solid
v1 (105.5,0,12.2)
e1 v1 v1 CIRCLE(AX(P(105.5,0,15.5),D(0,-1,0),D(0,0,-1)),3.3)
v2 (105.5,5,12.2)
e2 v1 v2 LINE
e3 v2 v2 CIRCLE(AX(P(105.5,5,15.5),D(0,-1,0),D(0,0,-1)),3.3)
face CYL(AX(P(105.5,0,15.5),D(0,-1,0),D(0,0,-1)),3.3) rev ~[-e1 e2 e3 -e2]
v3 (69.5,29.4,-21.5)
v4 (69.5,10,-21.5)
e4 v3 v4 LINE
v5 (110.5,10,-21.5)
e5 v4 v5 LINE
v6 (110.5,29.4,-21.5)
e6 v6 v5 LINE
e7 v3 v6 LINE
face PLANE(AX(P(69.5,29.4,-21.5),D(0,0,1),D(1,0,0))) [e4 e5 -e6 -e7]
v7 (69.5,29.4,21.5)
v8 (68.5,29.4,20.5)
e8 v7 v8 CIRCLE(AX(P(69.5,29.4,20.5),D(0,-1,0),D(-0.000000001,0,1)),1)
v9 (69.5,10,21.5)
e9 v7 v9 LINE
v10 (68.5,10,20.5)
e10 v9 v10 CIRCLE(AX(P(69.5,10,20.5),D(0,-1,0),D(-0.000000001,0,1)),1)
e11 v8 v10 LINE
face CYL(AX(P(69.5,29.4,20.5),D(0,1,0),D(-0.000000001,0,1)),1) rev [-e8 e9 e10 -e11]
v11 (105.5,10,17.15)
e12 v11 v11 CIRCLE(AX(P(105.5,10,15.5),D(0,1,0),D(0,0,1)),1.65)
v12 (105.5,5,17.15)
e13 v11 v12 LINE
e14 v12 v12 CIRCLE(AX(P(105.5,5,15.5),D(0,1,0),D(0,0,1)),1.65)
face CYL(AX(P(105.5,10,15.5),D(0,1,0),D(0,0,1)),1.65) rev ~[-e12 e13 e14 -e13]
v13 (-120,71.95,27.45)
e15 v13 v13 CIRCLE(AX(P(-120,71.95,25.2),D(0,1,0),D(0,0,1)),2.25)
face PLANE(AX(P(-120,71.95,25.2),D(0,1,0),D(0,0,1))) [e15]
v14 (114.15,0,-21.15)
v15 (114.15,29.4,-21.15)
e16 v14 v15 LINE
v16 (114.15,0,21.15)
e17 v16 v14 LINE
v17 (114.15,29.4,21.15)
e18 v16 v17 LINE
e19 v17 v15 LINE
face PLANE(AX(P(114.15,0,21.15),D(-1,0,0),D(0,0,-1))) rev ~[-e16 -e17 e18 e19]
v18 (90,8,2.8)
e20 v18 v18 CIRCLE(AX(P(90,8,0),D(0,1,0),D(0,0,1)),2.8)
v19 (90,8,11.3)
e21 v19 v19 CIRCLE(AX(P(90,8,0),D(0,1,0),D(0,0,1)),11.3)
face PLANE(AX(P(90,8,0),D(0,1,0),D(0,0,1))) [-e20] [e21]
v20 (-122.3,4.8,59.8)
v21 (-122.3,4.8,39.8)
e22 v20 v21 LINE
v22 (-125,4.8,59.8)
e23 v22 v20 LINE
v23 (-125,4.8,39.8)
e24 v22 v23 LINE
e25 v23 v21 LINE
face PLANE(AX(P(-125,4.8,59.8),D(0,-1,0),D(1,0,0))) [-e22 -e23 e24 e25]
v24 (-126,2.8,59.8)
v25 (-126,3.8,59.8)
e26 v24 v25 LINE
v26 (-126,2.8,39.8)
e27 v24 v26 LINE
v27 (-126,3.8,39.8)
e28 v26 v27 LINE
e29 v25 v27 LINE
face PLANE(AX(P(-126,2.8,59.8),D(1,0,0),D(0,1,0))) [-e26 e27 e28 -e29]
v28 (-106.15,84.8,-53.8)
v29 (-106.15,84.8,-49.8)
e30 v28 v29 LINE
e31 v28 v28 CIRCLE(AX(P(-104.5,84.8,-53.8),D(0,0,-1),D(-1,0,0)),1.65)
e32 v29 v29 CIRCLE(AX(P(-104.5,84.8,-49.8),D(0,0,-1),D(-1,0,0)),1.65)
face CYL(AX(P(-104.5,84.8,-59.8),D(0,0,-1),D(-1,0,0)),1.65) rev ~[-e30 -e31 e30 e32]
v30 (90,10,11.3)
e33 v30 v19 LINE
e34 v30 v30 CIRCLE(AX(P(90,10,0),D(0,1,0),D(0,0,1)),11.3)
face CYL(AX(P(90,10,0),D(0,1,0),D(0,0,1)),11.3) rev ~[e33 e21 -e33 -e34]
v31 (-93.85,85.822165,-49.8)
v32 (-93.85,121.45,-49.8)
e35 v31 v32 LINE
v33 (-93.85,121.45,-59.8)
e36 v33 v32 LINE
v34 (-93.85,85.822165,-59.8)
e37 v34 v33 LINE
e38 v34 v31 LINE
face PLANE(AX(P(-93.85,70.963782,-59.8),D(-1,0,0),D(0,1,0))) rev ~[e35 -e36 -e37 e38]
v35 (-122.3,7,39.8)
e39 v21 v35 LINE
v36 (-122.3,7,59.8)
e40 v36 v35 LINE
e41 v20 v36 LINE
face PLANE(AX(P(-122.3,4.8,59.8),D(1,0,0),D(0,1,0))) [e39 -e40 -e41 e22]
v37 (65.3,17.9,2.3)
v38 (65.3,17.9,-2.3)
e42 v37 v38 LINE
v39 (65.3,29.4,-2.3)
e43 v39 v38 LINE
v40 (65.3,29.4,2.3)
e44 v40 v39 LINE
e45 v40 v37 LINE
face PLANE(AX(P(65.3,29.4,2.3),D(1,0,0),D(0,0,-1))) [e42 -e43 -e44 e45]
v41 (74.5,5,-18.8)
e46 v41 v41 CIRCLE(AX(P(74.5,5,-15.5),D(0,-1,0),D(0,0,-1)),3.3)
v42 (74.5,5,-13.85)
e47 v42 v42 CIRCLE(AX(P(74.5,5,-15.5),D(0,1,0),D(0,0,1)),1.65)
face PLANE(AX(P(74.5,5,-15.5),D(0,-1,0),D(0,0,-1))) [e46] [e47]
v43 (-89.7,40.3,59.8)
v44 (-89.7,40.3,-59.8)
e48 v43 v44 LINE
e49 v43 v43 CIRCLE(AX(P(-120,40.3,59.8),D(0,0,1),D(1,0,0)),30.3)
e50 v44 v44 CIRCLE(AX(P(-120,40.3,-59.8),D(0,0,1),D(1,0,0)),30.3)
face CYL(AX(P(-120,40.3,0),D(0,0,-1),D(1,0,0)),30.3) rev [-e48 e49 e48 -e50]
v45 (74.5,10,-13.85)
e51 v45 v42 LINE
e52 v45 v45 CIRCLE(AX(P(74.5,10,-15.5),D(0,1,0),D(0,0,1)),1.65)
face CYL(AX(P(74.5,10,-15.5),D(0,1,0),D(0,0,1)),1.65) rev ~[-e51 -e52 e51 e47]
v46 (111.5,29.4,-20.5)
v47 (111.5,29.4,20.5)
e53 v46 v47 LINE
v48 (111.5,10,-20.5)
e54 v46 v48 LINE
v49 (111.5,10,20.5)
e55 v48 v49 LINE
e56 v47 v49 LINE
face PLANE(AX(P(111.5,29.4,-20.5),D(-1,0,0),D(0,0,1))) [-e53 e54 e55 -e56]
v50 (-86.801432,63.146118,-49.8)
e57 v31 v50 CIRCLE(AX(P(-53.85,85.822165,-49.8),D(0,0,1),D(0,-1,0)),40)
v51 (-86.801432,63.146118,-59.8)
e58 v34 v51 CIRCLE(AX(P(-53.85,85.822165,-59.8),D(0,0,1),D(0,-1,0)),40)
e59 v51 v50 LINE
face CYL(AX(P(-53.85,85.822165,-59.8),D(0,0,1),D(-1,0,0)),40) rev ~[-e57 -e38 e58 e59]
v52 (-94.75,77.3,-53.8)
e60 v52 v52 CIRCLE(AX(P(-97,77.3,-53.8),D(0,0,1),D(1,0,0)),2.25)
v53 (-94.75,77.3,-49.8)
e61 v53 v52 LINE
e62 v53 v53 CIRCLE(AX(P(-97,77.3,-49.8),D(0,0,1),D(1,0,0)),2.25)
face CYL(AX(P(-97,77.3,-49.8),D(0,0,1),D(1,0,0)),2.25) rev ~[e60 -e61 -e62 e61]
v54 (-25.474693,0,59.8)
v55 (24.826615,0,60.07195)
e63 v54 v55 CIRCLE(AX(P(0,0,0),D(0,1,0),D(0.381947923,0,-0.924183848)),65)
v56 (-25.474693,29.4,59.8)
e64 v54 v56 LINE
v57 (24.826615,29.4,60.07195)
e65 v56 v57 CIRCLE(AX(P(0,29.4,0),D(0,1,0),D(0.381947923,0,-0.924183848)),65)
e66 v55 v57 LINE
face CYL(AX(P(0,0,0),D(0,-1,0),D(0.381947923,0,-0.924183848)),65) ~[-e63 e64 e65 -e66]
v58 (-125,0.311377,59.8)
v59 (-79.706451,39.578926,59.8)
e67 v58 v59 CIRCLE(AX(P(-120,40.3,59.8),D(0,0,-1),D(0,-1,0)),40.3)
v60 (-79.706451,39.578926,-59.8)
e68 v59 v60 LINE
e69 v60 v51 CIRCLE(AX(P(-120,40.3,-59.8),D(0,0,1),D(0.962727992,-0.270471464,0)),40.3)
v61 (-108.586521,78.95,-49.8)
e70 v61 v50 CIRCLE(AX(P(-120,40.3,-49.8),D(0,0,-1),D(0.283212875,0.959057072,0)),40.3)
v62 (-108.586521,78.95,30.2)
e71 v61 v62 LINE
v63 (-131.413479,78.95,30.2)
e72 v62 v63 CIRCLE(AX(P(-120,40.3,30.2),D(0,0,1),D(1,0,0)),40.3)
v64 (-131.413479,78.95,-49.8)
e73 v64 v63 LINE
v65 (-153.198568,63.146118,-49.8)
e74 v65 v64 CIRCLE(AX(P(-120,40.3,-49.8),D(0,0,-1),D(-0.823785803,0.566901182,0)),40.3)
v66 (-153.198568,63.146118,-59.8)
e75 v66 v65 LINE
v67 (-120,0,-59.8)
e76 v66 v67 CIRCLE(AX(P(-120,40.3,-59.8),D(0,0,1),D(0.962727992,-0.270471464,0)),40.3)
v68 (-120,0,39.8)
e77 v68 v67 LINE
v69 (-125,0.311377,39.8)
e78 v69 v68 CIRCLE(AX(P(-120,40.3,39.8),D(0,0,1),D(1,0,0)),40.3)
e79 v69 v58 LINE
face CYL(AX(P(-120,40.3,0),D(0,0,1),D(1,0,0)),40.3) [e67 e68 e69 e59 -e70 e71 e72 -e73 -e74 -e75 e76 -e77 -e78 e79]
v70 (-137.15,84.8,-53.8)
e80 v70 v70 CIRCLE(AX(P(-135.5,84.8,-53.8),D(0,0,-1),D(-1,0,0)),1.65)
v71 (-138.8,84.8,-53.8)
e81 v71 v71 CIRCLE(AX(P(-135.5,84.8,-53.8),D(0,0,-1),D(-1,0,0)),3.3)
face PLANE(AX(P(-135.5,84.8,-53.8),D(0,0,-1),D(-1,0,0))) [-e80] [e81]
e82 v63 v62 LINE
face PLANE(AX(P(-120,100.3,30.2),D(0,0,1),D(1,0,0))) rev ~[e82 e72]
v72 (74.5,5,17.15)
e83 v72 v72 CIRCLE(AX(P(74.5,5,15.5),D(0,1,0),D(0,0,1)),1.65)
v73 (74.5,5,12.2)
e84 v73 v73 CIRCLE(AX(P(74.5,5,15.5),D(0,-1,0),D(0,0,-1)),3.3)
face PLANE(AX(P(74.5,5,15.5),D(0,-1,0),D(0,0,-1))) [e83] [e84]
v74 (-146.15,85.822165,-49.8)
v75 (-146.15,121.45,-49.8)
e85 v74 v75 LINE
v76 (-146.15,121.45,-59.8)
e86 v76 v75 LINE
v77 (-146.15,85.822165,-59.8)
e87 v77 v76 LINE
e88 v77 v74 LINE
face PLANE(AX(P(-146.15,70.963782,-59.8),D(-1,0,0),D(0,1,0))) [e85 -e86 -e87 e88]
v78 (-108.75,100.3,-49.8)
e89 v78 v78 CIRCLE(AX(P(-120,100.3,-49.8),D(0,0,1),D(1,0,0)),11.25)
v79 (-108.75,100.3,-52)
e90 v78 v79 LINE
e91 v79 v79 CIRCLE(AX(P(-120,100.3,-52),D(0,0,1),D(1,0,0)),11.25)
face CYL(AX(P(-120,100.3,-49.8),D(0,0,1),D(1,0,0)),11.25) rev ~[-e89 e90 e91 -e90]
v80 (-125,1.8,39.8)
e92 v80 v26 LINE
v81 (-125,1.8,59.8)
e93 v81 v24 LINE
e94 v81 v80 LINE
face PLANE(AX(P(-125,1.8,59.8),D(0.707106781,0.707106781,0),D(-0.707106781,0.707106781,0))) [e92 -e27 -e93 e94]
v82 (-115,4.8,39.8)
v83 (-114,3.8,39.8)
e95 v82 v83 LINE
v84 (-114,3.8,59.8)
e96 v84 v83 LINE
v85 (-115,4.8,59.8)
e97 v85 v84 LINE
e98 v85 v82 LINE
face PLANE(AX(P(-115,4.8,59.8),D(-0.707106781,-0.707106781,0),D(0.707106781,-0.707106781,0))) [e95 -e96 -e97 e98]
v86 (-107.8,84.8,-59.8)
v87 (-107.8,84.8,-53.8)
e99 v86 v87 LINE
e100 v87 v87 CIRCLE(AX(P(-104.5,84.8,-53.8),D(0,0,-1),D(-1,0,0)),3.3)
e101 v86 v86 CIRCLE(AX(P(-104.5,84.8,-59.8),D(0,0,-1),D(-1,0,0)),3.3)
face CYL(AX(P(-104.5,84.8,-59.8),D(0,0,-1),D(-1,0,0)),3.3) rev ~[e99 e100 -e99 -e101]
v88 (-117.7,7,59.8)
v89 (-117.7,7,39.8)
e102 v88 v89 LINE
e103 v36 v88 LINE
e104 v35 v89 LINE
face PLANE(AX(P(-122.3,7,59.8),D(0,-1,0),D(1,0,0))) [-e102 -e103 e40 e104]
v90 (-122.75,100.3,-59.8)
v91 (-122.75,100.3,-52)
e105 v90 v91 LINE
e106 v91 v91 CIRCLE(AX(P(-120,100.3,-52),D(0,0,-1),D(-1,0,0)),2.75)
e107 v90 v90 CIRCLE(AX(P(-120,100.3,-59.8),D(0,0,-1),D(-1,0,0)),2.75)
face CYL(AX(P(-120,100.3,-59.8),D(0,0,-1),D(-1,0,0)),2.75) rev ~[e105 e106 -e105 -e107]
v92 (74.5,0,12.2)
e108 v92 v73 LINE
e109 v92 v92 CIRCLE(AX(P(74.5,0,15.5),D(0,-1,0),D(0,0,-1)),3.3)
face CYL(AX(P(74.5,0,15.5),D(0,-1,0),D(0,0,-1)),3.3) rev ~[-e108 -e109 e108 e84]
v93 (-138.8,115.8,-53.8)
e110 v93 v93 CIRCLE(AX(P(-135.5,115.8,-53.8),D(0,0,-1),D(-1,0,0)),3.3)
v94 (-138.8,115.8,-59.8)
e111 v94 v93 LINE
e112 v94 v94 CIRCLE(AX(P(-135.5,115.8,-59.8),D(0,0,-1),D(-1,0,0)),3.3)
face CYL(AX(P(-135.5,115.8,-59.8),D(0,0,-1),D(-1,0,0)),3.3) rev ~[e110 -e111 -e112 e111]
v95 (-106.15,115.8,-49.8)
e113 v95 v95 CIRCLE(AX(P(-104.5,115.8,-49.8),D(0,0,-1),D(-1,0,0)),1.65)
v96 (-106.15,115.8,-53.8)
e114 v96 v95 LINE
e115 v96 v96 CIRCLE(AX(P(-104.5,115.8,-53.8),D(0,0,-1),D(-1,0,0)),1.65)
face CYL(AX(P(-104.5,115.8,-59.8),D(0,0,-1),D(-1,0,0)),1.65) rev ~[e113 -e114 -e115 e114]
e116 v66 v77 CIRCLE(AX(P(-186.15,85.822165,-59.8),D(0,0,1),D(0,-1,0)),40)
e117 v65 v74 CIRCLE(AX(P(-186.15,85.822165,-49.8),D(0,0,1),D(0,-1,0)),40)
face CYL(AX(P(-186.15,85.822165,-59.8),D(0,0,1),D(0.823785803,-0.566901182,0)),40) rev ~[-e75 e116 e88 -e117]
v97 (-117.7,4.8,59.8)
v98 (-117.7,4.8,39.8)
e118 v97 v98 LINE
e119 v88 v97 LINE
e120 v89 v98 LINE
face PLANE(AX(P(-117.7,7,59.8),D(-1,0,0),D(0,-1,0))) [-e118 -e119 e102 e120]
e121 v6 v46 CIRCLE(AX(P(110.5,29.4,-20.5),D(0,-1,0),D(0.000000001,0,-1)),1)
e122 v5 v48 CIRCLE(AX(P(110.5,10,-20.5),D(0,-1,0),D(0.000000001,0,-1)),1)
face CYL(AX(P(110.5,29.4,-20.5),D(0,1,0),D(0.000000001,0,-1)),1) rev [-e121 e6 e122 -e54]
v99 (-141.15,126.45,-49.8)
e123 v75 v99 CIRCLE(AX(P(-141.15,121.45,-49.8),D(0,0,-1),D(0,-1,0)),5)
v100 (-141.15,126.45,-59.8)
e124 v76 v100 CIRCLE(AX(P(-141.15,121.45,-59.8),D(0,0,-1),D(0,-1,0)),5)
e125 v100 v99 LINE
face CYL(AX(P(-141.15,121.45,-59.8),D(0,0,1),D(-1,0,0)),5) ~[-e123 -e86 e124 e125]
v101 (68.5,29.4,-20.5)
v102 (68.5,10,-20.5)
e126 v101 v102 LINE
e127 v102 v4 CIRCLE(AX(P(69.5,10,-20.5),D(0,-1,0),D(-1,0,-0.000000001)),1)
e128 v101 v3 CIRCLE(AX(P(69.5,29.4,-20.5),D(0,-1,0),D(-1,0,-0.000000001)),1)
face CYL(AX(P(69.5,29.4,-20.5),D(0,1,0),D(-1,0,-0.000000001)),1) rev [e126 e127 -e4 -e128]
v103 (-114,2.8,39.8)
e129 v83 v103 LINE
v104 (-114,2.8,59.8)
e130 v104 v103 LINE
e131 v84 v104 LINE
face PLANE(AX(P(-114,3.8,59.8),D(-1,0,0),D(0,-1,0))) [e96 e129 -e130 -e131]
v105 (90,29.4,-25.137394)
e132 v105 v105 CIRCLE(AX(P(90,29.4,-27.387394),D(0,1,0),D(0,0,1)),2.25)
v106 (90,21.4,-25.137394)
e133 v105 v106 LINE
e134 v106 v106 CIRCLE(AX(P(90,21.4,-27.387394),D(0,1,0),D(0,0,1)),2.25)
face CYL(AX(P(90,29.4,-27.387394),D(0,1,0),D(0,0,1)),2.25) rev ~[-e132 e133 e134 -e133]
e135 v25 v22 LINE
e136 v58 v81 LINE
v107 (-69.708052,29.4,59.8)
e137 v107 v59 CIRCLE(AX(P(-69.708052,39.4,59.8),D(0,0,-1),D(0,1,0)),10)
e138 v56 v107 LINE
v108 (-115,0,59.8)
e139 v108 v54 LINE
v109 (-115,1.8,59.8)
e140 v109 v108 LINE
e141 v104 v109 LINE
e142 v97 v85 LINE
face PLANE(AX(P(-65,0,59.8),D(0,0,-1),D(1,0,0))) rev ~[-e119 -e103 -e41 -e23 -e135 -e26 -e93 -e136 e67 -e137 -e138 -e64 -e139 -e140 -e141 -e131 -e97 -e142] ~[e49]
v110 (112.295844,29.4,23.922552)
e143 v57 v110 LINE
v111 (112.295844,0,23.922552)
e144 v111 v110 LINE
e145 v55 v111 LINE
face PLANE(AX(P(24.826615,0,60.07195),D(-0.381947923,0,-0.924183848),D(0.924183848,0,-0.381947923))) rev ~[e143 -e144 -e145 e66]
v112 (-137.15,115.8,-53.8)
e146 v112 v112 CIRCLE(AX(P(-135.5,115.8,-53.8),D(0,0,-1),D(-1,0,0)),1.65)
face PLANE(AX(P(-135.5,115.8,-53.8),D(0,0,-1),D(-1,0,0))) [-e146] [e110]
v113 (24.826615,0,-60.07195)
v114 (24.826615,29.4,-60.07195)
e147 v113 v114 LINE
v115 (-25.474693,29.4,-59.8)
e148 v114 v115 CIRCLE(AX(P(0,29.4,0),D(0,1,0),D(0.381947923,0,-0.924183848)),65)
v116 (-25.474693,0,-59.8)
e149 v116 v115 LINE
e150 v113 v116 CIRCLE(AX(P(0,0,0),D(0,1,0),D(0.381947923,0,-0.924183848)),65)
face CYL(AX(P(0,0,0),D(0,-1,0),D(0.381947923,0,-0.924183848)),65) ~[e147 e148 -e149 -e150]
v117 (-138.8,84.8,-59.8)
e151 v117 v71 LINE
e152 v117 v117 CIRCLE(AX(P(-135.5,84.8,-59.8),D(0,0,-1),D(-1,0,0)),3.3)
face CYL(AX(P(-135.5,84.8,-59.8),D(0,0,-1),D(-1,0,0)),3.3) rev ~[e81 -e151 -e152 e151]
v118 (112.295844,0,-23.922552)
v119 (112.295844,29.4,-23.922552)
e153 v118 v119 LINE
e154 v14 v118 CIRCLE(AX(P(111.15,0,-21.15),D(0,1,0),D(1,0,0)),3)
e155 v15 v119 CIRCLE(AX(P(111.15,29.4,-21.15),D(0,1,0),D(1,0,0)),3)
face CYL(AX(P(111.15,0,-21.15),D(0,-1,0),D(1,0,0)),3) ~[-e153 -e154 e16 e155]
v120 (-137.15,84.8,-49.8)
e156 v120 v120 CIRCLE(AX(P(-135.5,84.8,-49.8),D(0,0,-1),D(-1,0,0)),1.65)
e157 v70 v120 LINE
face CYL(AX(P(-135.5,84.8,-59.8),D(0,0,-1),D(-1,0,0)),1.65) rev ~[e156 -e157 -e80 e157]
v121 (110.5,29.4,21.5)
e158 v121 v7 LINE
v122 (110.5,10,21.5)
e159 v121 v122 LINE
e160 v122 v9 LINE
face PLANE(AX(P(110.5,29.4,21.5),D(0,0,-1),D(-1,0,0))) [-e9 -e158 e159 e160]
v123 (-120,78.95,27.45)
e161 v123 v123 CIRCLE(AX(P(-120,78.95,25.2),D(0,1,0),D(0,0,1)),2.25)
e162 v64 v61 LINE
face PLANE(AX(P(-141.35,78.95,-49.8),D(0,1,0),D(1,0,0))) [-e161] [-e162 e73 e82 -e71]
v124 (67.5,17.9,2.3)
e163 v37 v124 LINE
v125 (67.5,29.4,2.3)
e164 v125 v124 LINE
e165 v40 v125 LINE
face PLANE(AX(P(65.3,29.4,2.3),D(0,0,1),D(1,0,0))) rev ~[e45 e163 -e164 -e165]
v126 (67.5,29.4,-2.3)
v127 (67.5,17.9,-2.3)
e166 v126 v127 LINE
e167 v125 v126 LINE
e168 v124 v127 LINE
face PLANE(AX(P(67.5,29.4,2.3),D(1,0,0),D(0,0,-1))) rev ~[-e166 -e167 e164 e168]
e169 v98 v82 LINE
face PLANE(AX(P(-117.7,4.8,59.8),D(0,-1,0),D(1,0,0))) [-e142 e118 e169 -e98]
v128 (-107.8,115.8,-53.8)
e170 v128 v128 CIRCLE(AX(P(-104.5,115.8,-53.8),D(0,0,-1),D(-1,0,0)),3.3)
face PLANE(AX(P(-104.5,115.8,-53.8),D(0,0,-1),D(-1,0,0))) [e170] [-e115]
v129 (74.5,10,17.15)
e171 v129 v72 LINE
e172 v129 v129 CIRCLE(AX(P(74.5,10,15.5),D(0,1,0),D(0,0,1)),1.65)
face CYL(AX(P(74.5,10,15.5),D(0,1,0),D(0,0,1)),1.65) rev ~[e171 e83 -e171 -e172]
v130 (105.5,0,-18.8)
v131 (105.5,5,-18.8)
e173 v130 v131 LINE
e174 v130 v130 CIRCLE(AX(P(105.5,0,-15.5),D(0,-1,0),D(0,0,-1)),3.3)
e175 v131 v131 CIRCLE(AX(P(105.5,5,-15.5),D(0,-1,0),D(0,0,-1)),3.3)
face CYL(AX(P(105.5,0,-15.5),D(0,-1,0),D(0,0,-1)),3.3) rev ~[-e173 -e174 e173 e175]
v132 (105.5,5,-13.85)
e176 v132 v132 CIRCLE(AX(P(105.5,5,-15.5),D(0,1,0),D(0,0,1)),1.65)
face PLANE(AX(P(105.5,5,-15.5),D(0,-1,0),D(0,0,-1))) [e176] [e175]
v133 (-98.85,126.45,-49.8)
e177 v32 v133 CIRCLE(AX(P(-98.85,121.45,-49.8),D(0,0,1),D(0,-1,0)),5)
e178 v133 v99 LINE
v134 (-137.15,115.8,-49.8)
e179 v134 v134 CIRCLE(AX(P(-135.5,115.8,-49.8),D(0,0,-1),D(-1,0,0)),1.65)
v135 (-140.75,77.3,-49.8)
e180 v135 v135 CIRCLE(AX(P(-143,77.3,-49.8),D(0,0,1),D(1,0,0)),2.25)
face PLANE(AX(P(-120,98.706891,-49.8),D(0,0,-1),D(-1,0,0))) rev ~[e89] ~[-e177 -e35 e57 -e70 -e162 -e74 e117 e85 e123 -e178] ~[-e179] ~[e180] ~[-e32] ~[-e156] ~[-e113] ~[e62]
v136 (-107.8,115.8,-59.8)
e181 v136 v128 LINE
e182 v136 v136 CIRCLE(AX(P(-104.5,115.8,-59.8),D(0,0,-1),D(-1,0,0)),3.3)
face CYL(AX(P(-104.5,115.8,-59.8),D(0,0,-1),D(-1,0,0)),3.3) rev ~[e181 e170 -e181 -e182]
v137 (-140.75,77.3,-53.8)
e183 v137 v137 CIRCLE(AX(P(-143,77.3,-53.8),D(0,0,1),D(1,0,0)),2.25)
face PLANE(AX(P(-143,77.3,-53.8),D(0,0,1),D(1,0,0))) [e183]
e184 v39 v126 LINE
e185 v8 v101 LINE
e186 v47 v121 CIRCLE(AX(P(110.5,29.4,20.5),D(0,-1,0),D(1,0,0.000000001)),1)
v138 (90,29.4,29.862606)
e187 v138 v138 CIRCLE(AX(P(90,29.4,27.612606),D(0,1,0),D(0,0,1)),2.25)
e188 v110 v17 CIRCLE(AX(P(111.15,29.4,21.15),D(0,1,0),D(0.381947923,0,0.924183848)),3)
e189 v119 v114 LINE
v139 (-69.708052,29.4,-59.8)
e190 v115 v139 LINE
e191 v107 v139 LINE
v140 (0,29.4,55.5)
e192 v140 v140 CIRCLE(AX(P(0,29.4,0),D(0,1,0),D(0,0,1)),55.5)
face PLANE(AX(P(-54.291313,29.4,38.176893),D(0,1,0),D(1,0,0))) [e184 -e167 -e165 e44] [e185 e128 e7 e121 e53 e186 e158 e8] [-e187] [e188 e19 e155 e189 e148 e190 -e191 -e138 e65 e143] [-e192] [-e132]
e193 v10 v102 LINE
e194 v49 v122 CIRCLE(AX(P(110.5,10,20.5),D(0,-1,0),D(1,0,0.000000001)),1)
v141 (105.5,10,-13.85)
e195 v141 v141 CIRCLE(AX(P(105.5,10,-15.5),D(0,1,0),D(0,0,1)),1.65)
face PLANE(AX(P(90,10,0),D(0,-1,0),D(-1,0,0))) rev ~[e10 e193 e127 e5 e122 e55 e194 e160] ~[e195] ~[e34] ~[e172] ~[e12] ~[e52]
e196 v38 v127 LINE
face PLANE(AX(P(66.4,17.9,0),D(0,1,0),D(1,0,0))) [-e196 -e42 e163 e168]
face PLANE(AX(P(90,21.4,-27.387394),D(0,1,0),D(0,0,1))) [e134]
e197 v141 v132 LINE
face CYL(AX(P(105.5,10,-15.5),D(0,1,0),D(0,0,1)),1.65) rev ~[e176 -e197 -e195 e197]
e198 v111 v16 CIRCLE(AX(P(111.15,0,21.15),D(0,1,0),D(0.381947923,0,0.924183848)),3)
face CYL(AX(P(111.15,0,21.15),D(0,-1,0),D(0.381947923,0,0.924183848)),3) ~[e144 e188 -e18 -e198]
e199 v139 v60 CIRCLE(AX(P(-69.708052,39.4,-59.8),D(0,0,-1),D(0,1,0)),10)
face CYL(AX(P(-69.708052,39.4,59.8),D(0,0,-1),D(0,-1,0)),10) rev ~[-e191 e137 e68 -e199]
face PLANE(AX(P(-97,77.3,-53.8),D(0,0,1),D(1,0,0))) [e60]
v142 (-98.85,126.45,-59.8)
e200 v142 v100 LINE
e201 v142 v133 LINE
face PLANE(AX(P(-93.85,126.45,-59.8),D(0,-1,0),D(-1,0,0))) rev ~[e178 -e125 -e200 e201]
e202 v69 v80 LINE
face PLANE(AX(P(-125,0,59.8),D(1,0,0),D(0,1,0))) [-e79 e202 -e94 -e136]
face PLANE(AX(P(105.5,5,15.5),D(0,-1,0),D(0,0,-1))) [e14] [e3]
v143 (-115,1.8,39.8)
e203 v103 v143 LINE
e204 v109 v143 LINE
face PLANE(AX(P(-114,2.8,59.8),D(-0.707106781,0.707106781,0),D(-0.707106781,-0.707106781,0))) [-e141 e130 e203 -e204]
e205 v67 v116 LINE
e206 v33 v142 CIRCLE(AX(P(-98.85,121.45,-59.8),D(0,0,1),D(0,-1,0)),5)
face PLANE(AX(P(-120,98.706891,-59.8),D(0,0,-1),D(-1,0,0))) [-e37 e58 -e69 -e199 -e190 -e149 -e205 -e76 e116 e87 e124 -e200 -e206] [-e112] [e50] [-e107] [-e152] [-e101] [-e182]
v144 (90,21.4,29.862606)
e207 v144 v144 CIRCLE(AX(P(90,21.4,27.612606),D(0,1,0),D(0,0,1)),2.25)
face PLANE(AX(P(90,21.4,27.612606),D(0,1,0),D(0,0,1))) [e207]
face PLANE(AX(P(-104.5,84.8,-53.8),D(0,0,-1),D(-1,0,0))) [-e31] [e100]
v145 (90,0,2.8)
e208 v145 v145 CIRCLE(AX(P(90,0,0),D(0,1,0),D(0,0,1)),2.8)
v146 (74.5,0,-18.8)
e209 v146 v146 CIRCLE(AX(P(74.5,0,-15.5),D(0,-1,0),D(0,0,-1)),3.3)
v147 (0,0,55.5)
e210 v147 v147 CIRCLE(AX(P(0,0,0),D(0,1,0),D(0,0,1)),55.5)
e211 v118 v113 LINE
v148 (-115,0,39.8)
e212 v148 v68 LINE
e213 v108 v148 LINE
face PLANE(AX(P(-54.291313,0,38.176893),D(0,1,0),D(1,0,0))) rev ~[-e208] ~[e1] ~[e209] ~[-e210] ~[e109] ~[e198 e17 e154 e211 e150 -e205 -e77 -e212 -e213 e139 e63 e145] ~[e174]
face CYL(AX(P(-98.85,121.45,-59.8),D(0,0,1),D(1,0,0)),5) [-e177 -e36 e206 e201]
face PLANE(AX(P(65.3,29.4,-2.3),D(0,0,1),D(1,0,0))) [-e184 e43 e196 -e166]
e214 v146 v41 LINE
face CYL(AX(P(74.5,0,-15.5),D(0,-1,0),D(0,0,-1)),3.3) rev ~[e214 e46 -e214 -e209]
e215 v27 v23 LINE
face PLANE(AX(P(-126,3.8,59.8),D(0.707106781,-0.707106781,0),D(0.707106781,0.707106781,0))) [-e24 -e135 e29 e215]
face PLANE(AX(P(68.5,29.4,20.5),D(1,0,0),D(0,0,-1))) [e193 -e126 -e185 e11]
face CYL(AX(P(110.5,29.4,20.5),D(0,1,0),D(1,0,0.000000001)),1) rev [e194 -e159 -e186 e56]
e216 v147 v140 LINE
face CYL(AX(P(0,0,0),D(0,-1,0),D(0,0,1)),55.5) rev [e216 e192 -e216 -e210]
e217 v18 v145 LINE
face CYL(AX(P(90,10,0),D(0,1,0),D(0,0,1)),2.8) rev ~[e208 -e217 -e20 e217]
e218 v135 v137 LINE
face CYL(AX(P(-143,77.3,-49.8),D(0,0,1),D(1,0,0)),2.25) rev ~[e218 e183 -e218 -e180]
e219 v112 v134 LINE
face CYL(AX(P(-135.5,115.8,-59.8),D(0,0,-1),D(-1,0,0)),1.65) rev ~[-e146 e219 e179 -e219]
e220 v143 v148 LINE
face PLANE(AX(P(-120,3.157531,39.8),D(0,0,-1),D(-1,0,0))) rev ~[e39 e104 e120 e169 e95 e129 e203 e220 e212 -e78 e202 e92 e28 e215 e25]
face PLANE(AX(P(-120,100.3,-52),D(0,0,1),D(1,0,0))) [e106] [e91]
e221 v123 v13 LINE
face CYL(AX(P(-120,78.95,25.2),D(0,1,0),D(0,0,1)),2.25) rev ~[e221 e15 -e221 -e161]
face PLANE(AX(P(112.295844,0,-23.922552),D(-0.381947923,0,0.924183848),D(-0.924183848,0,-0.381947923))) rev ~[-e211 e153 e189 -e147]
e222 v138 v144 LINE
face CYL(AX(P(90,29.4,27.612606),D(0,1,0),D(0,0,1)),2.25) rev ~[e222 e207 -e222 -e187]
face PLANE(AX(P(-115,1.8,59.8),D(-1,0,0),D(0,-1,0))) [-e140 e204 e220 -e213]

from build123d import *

# Parameters (mm, degrees)
SKETCH1_R           = 55.5
BOSS_EXTRUDE1_DEPTH = 29.4
CUT_EXTRUDE1_DEPTH  = 19.4
SKETCH3_R           = 1.65
SKETCH3_R_2         = 2.8
CUT_EXTRUDE2_DEPTH  = 133.783969288
SKETCH4_R           = 11.3
CUT_EXTRUDE3_DEPTH  = 2
SKETCH5_R           = 3.3
CUT_EXTRUDE4_DEPTH  = 5
SKETCH6_R           = 40.3
SKETCH6_R_2         = 30.3
BOSS_EXTRUDE2_DEPTH = 59.8
BOSS_EXTRUDE3_DEPTH = 119.6
BOSS_EXTRUDE4_START = -29.4
BOSS_EXTRUDE4_DEPTH = 29.4
FILLET1_R           = 10
SKETCH9_W           = 2.2
SKETCH9_H           = 4.6
CUT_EXTRUDE5_DEPTH  = 11.5
SKETCH10_R          = 2.25
CUT_EXTRUDE6_DEPTH  = 8
SKETCH12_W          = 52.3
SKETCH12_H          = 55.486218433
SKETCH12_R          = 2.75
BOSS_EXTRUDE5_DEPTH = 10
SKETCH13_R          = 1.65
CUT_EXTRUDE7_DEPTH  = 240.292148847
SKETCH14_R          = 3.3
CUT_EXTRUDE8_DEPTH  = 6
SKETCH15_W          = 42.7
SKETCH15_H          = 42.7
CUT_EXTRUDE9_DEPTH  = 80
FILLET2_R           = 40
FILLET3_R           = 5
SKETCH16_R          = 2.25
CUT_EXTRUDE10_DEPTH = 4
SKETCH17_R          = 2.25
CUT_EXTRUDE11_DEPTH = 7
CUT_EXTRUDE14_DEPTH = 20
SKETCH20_R          = 11.25
CUT_EXTRUDE15_DEPTH = 2.2


with BuildPart() as part:
    # Sketch1 → Boss-Extrude1 (new body)
    with BuildSketch(Plane(origin=(0, 0, 0), x_dir=(1, 0, 0), z_dir=(0, 1, 0))):
        with BuildLine():
            Line((24.826614984, -60.071950097), (112.295843768, -23.922551543))
            ThreePointArc((112.295843768, -23.922551543), (113.643745306, -22.817703315), (114.15, -21.15))
            Line((114.15, -21.15), (114.15, 21.15))
            ThreePointArc((114.15, 21.15), (113.643745306, 22.817703315), (112.295843768, 23.922551543))
            Line((112.295843768, 23.922551543), (24.826614984, 60.071950097))
            ThreePointArc((24.826614984, 60.071950097), (-65, 0), (24.826614984, -60.071950097))
        make_face()
        with Locations(Location((0, 0, 0), (0, 0, 270))):
            Circle(SKETCH1_R, mode=Mode.SUBTRACT)
    extrude(amount=BOSS_EXTRUDE1_DEPTH)

    # Sketch2 → Cut-Extrude1 (cut)
    with BuildSketch(Plane(origin=(0, 29.4, 0), x_dir=(1, 0, 0), z_dir=(0, 1, 0))):
        with BuildLine():
            Line((69.5, 21.5), (110.5, 21.5))
            ThreePointArc((110.5, 21.5), (111.207106781, 21.207106781), (111.5, 20.5))
            Line((111.5, 20.5), (111.5, -20.5))
            ThreePointArc((111.5, -20.5), (111.207106781, -21.207106781), (110.5, -21.5))
            Line((110.5, -21.5), (69.5, -21.5))
            ThreePointArc((69.5, -21.5), (68.792893219, -21.207106781), (68.5, -20.5))
            Line((68.5, -20.5), (68.5, 20.5))
            ThreePointArc((68.5, 20.5), (68.792893219, 21.207106781), (69.5, 21.5))
        make_face()
    extrude(amount=-CUT_EXTRUDE1_DEPTH, mode=Mode.SUBTRACT)

    # Sketch3 → Cut-Extrude2 (cut, through all)
    with BuildSketch(Plane(origin=(0, 10, 0), x_dir=(1, 0, 0), z_dir=(0, 1, 0))):
        with Locations(Location((74.5, -15.5, 0), (0, 0, 270))):
            Circle(SKETCH3_R)
        with Locations(Location((105.5, -15.5, 0), (0, 0, 270))):
            Circle(SKETCH3_R)
        with Locations(Location((105.5, 15.5, 0), (0, 0, 270))):
            Circle(SKETCH3_R)
        with Locations(Location((74.5, 15.5, 0), (0, 0, 270))):
            Circle(SKETCH3_R)
        with Locations(Location((90, 0, 0), (0, 0, 270))):
            Circle(SKETCH3_R_2)
    extrude(amount=-CUT_EXTRUDE2_DEPTH, mode=Mode.SUBTRACT)

    # Sketch4 → Cut-Extrude3 (cut)
    with BuildSketch(Plane(origin=(0, 10, 0), x_dir=(1, 0, 0), z_dir=(0, 1, 0))):
        with Locations(Location((90, 0, 0), (0, 0, 270))):
            Circle(SKETCH4_R)
    extrude(amount=-CUT_EXTRUDE3_DEPTH, mode=Mode.SUBTRACT)

    # Sketch5 → Cut-Extrude4 (cut)
    with BuildSketch(Plane.XZ):
        with Locations(Location((74.5, 15.5, 0), (0, 0, 270))):
            Circle(SKETCH5_R)
        with Locations(Location((105.5, 15.5, 0), (0, 0, 270))):
            Circle(SKETCH5_R)
        with Locations(Location((74.5, -15.5, 0), (0, 0, 270))):
            Circle(SKETCH5_R)
        with Locations(Location((105.5, -15.5, 0), (0, 0, 270))):
            Circle(SKETCH5_R)
    extrude(amount=-CUT_EXTRUDE4_DEPTH, mode=Mode.SUBTRACT)



with BuildPart() as body_2:
    # Sketch6 → Boss-Extrude2 (new, symmetric)
    with BuildSketch(Plane.XY):
        with Locations((-120, 40.3)):
            Circle(SKETCH6_R)
        with Locations((-120, 40.3)):
            Circle(SKETCH6_R_2, mode=Mode.SUBTRACT)
    extrude(amount=BOSS_EXTRUDE2_DEPTH, both=True)

    # Sketch7 → Boss-Extrude3 (add)
    with BuildSketch(Plane.XY.offset(59.8)):
        with BuildLine():
            Line((-65, 29.4), (-65, 0))
            Line((-65, 0), (-120, 0))
            ThreePointArc((-120, 0), (-95.660525889, 8.18022416), (-81.20206191, 29.4))
            Line((-81.20206191, 29.4), (-65, 29.4))
        make_face()
    extrude(amount=-BOSS_EXTRUDE3_DEPTH)


with BuildPart() as part_1:
    add(part.part)

    add(body_2.part)  # Boss-Extrude4 merges body 2
    # Sketch8 → Boss-Extrude4 (add)
    with BuildSketch(Plane(origin=(0, 29.4, 0), x_dir=(1, 0, 0), z_dir=(0, 1, 0)).offset(BOSS_EXTRUDE4_START)):
        with BuildLine():
            ThreePointArc((-25.474693325, -59.8), (-54.225709183, -35.840932794), (-65, 1.13e-07))
            Line((-65, 1.13e-07), (-65, -59.8))
            Line((-65, -59.8), (-25.474693325, -59.8))
        make_face()
        with BuildLine():
            Line((-25.474693325, 59.8), (-65, 59.8))
            Line((-65, 59.8), (-65, 1.13e-07))
            ThreePointArc((-65, 1.13e-07), (-54.225709121, 35.840932889), (-25.474693325, 59.8))
        make_face()
    extrude(amount=BOSS_EXTRUDE4_DEPTH)

    # Fillet1
    fillet1_edges = [part_1.edges().sort_by_distance(p)[0] for p in [
        (-81.20206191, 29.4, 0),
    ]]
    fillet(fillet1_edges, radius=FILLET1_R)

    # Sketch9 → Cut-Extrude5 (cut)
    with BuildSketch(Plane(origin=(0, 29.4, 0), x_dir=(1, 0, 0), z_dir=(0, 1, 0))):
        with Locations((66.4, 0)):
            Rectangle(SKETCH9_W, SKETCH9_H)
    extrude(amount=-CUT_EXTRUDE5_DEPTH, mode=Mode.SUBTRACT)

    # Sketch10 → Cut-Extrude6 (cut)
    with BuildSketch(Plane(origin=(0, 29.4, 0), x_dir=(1, 0, 0), z_dir=(0, 1, 0))):
        with Locations(Location((90, -27.612605503, 0), (0, 0, 270))):
            Circle(SKETCH10_R)
        with Locations(Location((90, 27.387394497, 0), (0, 0, 270))):
            Circle(SKETCH10_R)
    extrude(amount=-CUT_EXTRUDE6_DEPTH, mode=Mode.SUBTRACT)

    # Sketch12 → Boss-Extrude5 (add)
    with BuildSketch(Plane(origin=(0, 0, -59.8), x_dir=(-1, 0, 0), z_dir=(0, 0, -1))):
        with Locations((120, 98.706890784)):
            Rectangle(SKETCH12_W, SKETCH12_H)
        with Locations((120, 100.3)):
            Circle(SKETCH12_R, mode=Mode.SUBTRACT)
    extrude(amount=-BOSS_EXTRUDE5_DEPTH)

    # Sketch13 → Cut-Extrude7 (cut, through all)
    with BuildSketch(Plane(origin=(0, 0, -59.8), x_dir=(-1, 0, 0), z_dir=(0, 0, -1))):
        with Locations((104.5, 115.8)):
            Circle(SKETCH13_R)
        with Locations((104.5, 84.8)):
            Circle(SKETCH13_R)
        with Locations((135.5, 84.8)):
            Circle(SKETCH13_R)
        with Locations((135.5, 115.8)):
            Circle(SKETCH13_R)
    extrude(amount=-CUT_EXTRUDE7_DEPTH, mode=Mode.SUBTRACT)

    # Sketch14 → Cut-Extrude8 (cut)
    with BuildSketch(Plane(origin=(0, 0, -59.8), x_dir=(-1, 0, 0), z_dir=(0, 0, -1))):
        with Locations((104.5, 115.8)):
            Circle(SKETCH14_R)
        with Locations((104.5, 84.8)):
            Circle(SKETCH14_R)
        with Locations((135.5, 84.8)):
            Circle(SKETCH14_R)
        with Locations((135.5, 115.8)):
            Circle(SKETCH14_R)
    extrude(amount=-CUT_EXTRUDE8_DEPTH, mode=Mode.SUBTRACT)

    # Sketch15 → Cut-Extrude9 (cut)
    with BuildSketch(Plane.XY.offset(-49.8)):
        with Locations((-120, 100.3)):
            Rectangle(SKETCH15_W, SKETCH15_H)
    extrude(amount=CUT_EXTRUDE9_DEPTH, mode=Mode.SUBTRACT)

    # Fillet2
    fillet2_edges = [part_1.edges().sort_by_distance(p)[0] for p in [
        (-93.85, 70.963781567, -54.8),
        (-146.15, 70.963781567, -54.8),
    ]]
    fillet(fillet2_edges, radius=FILLET2_R)

    # Fillet3
    fillet3_edges = [part_1.edges().sort_by_distance(p)[0] for p in [
        (-93.85, 126.45, -54.8),
        (-146.15, 126.45, -54.8),
    ]]
    fillet(fillet3_edges, radius=FILLET3_R)

    # Sketch16 → Cut-Extrude10 (cut)
    with BuildSketch(Plane.XY.offset(-49.8)):
        with Locations((-143, 77.3)):
            Circle(SKETCH16_R)
        with Locations((-97, 77.3)):
            Circle(SKETCH16_R)
    extrude(amount=-CUT_EXTRUDE10_DEPTH, mode=Mode.SUBTRACT)

    # Sketch17 → Cut-Extrude11 (cut)
    with BuildSketch(Plane(origin=(0, 78.95, 0), x_dir=(1, 0, 0), z_dir=(0, 1, 0))):
        with Locations(Location((-120, -25.2, 0), (0, 0, 270))):
            Circle(SKETCH17_R)
    extrude(amount=-CUT_EXTRUDE11_DEPTH, mode=Mode.SUBTRACT)

    # Sketch18 → Cut-Extrude14 (cut)
    with BuildSketch(Plane.XY.offset(59.8)):
        Polygon((-122.3, 7), (-117.7, 7), (-117.7, 4.8), (-115, 4.8), (-114, 3.8), (-114, 2.8), (-115, 1.8), (-115, 0), (-125, 0), (-125, 1.8), (-126, 2.8), (-126, 3.8), (-125, 4.8), (-122.3, 4.8), align=None)
    extrude(amount=-CUT_EXTRUDE14_DEPTH, mode=Mode.SUBTRACT)

    # Sketch20 → Cut-Extrude15 (cut)
    with BuildSketch(Plane.XY.offset(-49.8)):
        with Locations((-120, 100.3)):
            Circle(SKETCH20_R)
    extrude(amount=-CUT_EXTRUDE15_DEPTH, mode=Mode.SUBTRACT)


solid = part_1.part
